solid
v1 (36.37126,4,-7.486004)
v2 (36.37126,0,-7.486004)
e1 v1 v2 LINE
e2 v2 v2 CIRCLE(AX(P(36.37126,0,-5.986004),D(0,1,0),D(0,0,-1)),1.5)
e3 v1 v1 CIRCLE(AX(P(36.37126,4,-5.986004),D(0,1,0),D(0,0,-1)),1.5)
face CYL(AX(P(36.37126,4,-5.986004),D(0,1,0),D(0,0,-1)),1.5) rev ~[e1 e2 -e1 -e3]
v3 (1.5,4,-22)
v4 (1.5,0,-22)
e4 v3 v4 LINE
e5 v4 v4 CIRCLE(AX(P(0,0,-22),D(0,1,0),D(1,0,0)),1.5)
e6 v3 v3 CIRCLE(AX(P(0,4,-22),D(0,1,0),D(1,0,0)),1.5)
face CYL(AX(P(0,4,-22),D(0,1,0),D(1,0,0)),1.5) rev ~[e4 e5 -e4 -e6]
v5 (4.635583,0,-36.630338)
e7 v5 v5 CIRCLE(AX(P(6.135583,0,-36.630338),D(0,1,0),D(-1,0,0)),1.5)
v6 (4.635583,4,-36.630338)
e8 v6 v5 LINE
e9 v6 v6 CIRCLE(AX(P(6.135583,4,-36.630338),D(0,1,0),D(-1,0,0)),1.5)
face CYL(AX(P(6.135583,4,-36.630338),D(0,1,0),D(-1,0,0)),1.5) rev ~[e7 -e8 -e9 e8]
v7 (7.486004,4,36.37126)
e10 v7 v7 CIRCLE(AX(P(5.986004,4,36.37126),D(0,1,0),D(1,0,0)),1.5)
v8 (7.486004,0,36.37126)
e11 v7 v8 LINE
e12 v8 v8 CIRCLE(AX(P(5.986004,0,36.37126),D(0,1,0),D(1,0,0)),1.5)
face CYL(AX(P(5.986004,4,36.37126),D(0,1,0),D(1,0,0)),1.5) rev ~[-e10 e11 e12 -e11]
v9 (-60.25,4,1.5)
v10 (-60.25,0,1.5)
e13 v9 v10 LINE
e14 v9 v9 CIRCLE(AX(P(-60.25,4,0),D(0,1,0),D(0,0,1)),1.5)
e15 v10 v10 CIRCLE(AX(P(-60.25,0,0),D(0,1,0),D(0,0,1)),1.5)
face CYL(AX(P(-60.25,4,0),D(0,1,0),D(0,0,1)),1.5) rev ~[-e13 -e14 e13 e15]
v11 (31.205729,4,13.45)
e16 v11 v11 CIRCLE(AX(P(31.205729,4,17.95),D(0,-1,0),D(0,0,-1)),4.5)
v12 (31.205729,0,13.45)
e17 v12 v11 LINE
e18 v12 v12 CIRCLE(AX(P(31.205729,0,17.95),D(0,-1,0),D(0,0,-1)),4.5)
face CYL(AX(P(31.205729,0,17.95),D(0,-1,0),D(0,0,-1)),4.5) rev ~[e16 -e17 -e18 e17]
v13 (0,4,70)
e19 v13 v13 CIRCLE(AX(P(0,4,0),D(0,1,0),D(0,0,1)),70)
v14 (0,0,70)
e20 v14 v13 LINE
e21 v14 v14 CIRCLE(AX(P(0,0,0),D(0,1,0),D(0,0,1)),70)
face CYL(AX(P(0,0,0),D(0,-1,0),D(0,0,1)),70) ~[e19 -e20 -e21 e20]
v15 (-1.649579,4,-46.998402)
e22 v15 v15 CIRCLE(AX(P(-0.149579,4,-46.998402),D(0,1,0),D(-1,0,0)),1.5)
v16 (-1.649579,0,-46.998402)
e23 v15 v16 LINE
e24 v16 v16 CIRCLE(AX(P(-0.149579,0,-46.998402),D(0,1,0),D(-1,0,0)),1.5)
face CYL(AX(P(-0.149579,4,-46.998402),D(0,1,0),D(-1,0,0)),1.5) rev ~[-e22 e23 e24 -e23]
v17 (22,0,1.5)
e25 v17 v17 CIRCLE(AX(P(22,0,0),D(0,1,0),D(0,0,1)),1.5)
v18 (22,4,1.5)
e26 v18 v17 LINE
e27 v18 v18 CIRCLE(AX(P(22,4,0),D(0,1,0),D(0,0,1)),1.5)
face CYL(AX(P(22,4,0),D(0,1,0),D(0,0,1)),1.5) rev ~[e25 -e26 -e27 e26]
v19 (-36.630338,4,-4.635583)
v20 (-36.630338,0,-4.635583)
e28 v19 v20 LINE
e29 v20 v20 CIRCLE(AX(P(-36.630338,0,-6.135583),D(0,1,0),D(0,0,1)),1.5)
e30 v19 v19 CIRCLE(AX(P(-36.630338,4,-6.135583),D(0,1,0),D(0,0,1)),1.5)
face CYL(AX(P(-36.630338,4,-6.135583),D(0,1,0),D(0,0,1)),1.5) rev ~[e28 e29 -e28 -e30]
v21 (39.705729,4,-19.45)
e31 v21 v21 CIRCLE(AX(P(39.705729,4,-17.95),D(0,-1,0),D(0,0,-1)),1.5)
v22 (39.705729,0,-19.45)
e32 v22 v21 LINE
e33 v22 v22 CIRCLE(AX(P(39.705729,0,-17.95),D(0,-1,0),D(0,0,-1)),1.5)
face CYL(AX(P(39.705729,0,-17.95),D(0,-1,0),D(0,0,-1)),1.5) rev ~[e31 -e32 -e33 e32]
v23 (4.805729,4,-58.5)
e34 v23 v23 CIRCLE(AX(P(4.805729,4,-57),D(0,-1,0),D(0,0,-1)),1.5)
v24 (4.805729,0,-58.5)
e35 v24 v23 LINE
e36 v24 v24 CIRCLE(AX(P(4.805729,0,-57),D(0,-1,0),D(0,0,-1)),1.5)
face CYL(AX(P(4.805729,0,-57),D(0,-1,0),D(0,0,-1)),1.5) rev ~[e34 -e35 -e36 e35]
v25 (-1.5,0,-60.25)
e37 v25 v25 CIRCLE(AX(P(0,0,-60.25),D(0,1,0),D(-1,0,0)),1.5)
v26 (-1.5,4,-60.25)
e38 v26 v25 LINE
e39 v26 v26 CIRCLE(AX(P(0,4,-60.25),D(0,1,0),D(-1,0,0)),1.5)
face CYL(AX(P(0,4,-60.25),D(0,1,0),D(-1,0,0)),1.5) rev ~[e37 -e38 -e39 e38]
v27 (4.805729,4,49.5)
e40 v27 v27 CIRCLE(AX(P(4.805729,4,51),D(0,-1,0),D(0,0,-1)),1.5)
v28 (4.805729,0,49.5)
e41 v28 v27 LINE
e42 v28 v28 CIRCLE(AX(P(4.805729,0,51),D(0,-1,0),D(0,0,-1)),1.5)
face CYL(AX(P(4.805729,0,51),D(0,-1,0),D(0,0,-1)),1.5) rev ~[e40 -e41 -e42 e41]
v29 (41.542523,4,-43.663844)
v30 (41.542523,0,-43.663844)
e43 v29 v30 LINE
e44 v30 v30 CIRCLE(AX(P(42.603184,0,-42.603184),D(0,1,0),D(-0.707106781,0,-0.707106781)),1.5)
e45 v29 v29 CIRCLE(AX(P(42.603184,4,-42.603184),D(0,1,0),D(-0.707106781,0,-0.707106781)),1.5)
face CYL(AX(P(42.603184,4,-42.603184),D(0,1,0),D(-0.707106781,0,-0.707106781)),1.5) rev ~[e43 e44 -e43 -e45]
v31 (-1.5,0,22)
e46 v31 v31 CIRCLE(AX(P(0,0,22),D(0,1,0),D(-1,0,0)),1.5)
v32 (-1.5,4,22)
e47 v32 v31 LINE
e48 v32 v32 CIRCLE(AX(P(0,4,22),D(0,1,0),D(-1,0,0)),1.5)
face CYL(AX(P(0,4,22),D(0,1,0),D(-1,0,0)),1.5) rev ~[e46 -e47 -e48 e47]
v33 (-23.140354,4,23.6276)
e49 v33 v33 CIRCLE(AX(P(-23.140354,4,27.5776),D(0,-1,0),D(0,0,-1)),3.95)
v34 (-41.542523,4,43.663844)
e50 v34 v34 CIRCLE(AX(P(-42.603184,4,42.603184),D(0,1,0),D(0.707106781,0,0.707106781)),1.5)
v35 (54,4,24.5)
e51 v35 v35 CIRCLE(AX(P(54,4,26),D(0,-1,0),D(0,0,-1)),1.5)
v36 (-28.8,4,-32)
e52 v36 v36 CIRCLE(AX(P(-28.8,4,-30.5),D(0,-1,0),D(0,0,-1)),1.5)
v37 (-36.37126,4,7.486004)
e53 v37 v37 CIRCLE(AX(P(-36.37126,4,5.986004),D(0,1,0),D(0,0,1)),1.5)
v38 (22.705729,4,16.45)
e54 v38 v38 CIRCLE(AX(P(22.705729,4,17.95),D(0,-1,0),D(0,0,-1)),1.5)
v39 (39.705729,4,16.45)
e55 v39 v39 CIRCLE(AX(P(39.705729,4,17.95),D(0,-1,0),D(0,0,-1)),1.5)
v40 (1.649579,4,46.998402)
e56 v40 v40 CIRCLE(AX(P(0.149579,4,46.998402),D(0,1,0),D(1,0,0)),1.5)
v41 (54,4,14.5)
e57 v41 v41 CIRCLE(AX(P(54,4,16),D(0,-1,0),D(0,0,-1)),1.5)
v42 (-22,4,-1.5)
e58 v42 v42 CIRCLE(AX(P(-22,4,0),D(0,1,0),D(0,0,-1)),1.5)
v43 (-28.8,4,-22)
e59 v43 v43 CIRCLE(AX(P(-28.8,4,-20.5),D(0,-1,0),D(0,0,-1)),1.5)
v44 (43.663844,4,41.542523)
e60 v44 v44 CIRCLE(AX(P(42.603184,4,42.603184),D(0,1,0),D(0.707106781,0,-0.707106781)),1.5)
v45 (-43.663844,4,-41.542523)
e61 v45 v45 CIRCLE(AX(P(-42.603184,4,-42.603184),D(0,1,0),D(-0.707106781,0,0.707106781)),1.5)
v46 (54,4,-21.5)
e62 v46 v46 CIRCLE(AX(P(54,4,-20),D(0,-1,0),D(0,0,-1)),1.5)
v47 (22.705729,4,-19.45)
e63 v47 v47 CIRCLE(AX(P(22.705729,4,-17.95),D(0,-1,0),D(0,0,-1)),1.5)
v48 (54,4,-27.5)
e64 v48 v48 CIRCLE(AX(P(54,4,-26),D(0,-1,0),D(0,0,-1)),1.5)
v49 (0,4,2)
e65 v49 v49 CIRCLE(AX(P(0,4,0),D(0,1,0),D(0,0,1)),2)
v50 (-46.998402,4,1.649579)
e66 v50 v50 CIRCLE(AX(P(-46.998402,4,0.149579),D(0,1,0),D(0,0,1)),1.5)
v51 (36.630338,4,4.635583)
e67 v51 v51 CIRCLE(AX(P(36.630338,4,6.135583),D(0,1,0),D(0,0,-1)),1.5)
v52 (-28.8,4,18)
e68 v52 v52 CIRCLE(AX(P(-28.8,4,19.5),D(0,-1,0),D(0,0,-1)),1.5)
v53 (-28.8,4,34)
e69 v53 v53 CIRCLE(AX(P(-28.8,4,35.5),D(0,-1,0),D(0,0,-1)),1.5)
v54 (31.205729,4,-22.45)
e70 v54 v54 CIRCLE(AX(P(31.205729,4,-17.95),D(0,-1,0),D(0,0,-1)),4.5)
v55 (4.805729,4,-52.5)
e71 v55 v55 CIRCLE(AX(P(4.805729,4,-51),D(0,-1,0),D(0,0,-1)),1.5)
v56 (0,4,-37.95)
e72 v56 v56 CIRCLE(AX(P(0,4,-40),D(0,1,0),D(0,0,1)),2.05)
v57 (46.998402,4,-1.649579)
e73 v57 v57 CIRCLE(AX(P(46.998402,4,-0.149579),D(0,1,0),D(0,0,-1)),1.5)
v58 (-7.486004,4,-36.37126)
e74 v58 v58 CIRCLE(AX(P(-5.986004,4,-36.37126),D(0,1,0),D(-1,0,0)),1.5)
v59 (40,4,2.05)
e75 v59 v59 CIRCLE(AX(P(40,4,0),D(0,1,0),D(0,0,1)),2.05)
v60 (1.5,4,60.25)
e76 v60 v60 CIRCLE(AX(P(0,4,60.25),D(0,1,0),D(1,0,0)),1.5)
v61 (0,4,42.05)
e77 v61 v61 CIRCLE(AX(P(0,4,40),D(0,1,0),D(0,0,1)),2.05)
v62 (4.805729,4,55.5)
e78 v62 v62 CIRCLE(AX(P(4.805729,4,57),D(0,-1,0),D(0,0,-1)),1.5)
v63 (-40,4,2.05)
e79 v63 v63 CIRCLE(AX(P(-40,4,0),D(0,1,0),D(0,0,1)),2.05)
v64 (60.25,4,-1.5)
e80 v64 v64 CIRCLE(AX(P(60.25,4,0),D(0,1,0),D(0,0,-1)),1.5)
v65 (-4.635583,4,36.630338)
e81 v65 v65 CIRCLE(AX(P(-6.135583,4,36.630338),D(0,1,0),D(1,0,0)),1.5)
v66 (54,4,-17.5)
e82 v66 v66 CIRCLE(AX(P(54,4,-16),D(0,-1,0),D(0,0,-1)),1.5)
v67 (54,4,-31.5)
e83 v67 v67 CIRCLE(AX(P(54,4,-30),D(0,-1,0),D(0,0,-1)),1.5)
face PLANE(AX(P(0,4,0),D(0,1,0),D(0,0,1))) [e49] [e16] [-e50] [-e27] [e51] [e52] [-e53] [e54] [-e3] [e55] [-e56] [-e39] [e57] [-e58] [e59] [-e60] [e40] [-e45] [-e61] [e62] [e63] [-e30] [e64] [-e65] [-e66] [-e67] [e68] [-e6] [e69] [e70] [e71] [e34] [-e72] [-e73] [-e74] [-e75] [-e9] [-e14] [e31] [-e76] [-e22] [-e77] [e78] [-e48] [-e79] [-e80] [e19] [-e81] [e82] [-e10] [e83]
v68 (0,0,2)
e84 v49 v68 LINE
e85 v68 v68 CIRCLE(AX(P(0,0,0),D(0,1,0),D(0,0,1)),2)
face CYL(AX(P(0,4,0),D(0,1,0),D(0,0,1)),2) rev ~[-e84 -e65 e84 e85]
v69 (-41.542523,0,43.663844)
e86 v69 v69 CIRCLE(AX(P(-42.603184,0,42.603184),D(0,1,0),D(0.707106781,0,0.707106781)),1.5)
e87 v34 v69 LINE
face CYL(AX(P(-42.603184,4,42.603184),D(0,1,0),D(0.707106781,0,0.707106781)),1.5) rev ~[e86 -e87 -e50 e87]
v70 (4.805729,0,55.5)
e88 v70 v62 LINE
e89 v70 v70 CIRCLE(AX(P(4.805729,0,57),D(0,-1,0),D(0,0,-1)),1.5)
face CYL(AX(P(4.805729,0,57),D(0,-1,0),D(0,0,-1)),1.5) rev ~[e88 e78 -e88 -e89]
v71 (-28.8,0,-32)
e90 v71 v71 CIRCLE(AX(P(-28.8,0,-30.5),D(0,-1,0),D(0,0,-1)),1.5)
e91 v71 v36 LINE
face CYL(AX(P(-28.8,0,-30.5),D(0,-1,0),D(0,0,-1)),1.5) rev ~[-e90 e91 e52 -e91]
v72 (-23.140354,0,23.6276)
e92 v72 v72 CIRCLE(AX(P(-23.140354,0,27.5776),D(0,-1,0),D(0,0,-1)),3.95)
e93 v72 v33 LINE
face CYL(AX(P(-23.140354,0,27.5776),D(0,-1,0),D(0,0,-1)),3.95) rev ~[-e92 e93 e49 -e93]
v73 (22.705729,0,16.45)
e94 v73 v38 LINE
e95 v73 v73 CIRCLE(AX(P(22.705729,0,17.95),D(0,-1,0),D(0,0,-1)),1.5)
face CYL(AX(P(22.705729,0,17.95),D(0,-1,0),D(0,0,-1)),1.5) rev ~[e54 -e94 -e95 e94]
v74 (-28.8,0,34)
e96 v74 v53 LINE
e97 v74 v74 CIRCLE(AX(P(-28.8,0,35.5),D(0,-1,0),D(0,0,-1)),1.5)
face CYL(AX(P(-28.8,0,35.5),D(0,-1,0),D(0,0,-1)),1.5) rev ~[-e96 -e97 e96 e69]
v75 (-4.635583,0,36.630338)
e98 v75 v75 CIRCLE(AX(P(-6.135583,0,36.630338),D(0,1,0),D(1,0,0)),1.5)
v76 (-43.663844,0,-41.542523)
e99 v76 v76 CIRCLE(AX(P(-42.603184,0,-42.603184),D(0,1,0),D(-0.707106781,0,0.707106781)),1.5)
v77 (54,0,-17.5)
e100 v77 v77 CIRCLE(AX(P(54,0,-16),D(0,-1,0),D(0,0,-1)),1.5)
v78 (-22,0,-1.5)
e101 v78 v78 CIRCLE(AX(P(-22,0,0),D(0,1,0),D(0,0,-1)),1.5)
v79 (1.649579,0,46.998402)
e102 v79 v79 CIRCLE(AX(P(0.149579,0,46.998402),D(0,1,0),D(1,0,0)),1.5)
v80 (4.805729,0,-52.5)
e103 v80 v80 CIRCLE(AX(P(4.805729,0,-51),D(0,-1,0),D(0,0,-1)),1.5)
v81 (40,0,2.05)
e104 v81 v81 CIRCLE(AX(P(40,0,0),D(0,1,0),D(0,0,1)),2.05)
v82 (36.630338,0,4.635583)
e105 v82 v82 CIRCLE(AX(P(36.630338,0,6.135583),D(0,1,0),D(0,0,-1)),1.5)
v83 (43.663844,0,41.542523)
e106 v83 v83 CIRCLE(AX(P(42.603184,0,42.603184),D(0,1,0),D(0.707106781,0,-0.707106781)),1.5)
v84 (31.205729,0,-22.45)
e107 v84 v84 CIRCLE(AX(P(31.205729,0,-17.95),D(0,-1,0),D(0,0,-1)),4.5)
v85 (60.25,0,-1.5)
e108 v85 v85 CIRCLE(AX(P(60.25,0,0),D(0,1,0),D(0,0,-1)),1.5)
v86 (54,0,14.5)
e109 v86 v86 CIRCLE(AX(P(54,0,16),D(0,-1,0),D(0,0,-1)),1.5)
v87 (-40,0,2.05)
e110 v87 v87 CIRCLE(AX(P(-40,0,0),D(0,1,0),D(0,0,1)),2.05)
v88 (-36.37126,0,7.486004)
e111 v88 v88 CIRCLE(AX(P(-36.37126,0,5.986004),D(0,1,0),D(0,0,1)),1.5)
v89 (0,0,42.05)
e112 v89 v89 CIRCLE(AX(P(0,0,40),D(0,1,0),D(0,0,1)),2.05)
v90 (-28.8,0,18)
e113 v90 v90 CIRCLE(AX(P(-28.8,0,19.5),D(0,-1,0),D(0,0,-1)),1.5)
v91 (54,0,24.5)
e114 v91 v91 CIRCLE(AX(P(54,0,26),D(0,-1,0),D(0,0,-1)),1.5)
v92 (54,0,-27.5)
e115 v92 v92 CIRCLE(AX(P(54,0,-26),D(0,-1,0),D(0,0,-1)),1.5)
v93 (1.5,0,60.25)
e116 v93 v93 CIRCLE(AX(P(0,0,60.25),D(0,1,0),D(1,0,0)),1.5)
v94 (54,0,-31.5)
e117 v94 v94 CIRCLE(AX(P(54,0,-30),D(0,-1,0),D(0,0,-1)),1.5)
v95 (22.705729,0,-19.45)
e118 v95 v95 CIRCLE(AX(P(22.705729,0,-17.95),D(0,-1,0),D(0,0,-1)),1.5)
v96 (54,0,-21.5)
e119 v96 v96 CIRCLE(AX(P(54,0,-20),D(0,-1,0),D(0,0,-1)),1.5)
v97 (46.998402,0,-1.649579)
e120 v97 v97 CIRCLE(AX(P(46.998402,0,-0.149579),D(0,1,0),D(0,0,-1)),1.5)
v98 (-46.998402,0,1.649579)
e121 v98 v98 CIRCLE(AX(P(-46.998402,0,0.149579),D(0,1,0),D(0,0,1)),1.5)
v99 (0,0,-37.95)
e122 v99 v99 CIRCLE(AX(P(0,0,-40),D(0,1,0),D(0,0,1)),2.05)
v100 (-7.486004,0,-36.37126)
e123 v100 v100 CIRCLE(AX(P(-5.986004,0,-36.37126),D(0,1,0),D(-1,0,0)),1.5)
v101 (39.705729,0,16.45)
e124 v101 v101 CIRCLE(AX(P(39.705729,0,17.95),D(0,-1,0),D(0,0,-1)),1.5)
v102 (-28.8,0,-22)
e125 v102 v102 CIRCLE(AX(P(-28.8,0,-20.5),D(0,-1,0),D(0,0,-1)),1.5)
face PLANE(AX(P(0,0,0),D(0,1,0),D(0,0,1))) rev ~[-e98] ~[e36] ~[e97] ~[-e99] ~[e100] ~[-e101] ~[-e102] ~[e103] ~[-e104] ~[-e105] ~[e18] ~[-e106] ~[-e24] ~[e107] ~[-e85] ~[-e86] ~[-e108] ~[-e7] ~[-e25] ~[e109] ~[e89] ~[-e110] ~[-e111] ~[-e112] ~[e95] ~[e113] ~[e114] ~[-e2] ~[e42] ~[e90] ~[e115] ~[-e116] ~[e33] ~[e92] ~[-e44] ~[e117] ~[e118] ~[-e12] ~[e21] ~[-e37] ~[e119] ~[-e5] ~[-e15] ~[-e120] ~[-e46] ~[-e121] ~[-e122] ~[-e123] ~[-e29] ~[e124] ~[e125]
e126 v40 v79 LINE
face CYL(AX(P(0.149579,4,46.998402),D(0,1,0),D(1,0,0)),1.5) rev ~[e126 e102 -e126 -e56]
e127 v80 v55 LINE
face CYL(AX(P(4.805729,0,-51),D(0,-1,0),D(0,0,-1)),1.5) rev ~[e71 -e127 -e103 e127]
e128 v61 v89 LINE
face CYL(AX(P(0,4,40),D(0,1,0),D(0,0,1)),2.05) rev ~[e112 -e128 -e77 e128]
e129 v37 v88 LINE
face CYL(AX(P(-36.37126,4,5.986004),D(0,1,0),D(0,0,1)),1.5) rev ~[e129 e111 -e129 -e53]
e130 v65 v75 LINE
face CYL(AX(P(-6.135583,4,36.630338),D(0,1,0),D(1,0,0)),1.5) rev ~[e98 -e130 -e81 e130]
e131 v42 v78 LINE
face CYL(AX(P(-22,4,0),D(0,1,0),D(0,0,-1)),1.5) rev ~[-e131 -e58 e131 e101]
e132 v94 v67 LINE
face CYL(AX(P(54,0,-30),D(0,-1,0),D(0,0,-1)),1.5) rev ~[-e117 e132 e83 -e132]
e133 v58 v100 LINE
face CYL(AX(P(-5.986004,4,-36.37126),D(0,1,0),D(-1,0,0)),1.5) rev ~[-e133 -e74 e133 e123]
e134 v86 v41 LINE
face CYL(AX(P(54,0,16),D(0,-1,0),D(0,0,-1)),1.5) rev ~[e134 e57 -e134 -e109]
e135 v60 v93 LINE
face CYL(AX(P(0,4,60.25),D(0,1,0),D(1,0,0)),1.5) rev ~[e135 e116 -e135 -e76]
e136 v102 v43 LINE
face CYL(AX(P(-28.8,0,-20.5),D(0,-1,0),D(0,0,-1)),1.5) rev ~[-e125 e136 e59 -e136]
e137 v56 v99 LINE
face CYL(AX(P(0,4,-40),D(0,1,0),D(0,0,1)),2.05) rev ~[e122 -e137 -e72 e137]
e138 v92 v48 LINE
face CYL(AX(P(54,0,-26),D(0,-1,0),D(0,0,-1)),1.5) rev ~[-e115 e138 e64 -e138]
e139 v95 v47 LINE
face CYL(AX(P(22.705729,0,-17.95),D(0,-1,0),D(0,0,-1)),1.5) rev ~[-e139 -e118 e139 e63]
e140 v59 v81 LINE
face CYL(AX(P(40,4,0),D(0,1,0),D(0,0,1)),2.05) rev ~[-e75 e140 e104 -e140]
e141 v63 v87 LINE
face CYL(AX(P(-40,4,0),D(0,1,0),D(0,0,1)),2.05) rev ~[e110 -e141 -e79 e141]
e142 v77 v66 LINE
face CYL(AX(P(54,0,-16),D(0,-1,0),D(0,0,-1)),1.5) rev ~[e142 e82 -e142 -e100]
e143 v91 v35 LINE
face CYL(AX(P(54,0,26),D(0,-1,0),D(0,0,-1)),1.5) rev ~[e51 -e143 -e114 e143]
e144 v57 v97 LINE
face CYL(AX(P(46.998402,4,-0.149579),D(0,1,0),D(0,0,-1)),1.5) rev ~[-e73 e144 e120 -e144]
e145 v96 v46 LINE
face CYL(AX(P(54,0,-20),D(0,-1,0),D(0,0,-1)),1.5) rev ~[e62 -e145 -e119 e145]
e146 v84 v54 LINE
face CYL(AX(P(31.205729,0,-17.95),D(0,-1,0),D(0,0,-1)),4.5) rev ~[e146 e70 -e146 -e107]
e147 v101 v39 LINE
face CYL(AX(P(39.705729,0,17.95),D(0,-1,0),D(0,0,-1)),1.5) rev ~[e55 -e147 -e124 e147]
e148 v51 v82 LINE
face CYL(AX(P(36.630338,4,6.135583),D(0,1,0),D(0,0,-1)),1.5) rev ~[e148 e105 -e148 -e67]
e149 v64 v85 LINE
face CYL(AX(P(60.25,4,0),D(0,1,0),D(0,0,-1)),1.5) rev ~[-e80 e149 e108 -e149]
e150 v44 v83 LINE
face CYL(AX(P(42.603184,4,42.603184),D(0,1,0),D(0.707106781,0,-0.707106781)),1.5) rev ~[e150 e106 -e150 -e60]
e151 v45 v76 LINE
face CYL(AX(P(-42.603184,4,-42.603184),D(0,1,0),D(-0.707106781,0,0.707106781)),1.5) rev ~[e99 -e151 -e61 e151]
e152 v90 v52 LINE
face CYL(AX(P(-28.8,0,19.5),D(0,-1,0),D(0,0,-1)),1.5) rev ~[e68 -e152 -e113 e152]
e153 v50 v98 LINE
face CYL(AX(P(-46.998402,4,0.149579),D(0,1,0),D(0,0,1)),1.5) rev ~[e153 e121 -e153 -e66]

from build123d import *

# Parameters (mm, degrees)
SKETCH2_R           = 70
BOSS_EXTRUDE1_DEPTH = 4
SKETCH8_R           = 2
CUT_EXTRUDE1_DEPTH  = 100.075728612
SKETCH34_R          = 1.5
CUT_EXTRUDE8_DEPTH  = 100.075728612
CIRPATTERN7_COUNT   = 8
SKETCH50_R          = 1.5
CUT_EXTRUDE15_DEPTH = 100.075728612
SKETCH51_R          = 1.5
CUT_EXTRUDE16_DEPTH = 100.075728612
SKETCH56_R          = 2.05
CUT_EXTRUDE19_DEPTH = 100.075728612
SKETCH57_R          = 1.5
CUT_EXTRUDE20_DEPTH = 100.075728612
CIRPATTERN13_COUNT  = 4
SKETCH60_R          = 1.5
CUT_EXTRUDE21_DEPTH = 100.075728612
CIRPATTERN14_COUNT  = 4
SKETCH49_R          = 4.5
SKETCH49_R_2        = 3.95
CUT_EXTRUDE14_DEPTH = 100.075728612
SKETCH63_R          = 1.5
CUT_EXTRUDE24_DEPTH = 100.075728612
SKETCH64_R          = 1.5
CUT_EXTRUDE25_DEPTH = 100.075728612
SKETCH65_R          = 1.5
CUT_EXTRUDE26_DEPTH = 100.075728612


with BuildPart() as part:
    # Sketch2 → Boss-Extrude1 (new body)
    with BuildSketch(Plane(origin=(0, 0, 0), x_dir=(1, 0, 0), z_dir=(0, 1, 0))):
        Circle(SKETCH2_R)
    extrude(amount=BOSS_EXTRUDE1_DEPTH)

    # Sketch8 → Cut-Extrude1 (cut, through all)
    with BuildSketch(Plane(origin=(0, 4, 0), x_dir=(1, 0, 0), z_dir=(0, 1, 0))):
        Circle(SKETCH8_R)
    extrude(amount=-CUT_EXTRUDE1_DEPTH, mode=Mode.SUBTRACT)

    # Sketch34 → Cut-Extrude8 (cut, through all)
    with BuildSketch(Plane(origin=(0, 4, 0), x_dir=(1, 0, 0), z_dir=(0, 1, 0))):
        with Locations((-60.25, 0)):
            Circle(SKETCH34_R)
    cut_extrude8 = extrude(amount=-CUT_EXTRUDE8_DEPTH, mode=Mode.SUBTRACT)

    # CirPattern7: Cut-Extrude8 ×8 about axis
    cirpattern7_axis = Axis((0, 4, 0), (0, -1, 0))
    for i in range(1, CIRPATTERN7_COUNT):
        add(cut_extrude8.rotate(cirpattern7_axis, i * 360 / CIRPATTERN7_COUNT), mode=Mode.SUBTRACT)

    # Sketch50 → Cut-Extrude15 (cut, through all)
    with BuildSketch(Plane.XZ):
        with Locations((-28.8, -30.5)):
            Circle(SKETCH50_R)
        with Locations((-28.8, -20.5)):
            Circle(SKETCH50_R)
        with Locations((54, -26)):
            Circle(SKETCH50_R)
        with Locations((54, -16)):
            Circle(SKETCH50_R)
        with Locations((54, 16)):
            Circle(SKETCH50_R)
        with Locations((54, 26)):
            Circle(SKETCH50_R)
    extrude(amount=-CUT_EXTRUDE15_DEPTH, mode=Mode.SUBTRACT)

    # Sketch51 → Cut-Extrude16 (cut, through all)
    with BuildSketch(Plane.XZ):
        with Locations((-28.8, 19.5)):
            Circle(SKETCH51_R)
        with Locations((-28.8, 35.5)):
            Circle(SKETCH51_R)
    extrude(amount=-CUT_EXTRUDE16_DEPTH, mode=Mode.SUBTRACT)

    # Sketch56 → Cut-Extrude19 (cut, through all)
    with BuildSketch(Plane(origin=(0, 4, 0), x_dir=(1, 0, 0), z_dir=(0, 1, 0))):
        with Locations((0, 40)):
            Circle(SKETCH56_R)
        with Locations((-40, 0)):
            Circle(SKETCH56_R)
        with Locations((40, 0)):
            Circle(SKETCH56_R)
        with Locations((0, -40)):
            Circle(SKETCH56_R)
    extrude(amount=-CUT_EXTRUDE19_DEPTH, mode=Mode.SUBTRACT)

    # Sketch57 → Cut-Extrude20 (cut, through all)
    with BuildSketch(Plane(origin=(0, 4, 0), x_dir=(1, 0, 0), z_dir=(0, 1, 0))):
        with Locations((-36.371259829, -5.986004074)):
            Circle(SKETCH57_R)
        with Locations((-46.998401681, -0.149579135)):
            Circle(SKETCH57_R)
        with Locations((-36.63033849, 6.135583209)):
            Circle(SKETCH57_R)
    cut_extrude20 = extrude(amount=-CUT_EXTRUDE20_DEPTH, mode=Mode.SUBTRACT)

    # CirPattern13: Cut-Extrude20 ×4 about axis
    cirpattern13_axis = Axis((0, 4, 0), (0, 1, 0))
    for i in range(1, CIRPATTERN13_COUNT):
        add(cut_extrude20.rotate(cirpattern13_axis, i * 360 / CIRPATTERN13_COUNT), mode=Mode.SUBTRACT)

    # Sketch60 → Cut-Extrude21 (cut, through all)
    with BuildSketch(Plane(origin=(0, 4, 0), x_dir=(1, 0, 0), z_dir=(0, 1, 0))):
        with Locations((22, 0)):
            Circle(SKETCH60_R)
    cut_extrude21 = extrude(amount=-CUT_EXTRUDE21_DEPTH, mode=Mode.SUBTRACT)

    # CirPattern14: Cut-Extrude21 ×4 about axis
    cirpattern14_axis = Axis((0, 4, 0), (0, -1, 0))
    for i in range(1, CIRPATTERN14_COUNT):
        add(cut_extrude21.rotate(cirpattern14_axis, i * 360 / CIRPATTERN14_COUNT), mode=Mode.SUBTRACT)

    # Sketch49 → Cut-Extrude14 (cut, through all)
    with BuildSketch(Plane.XZ):
        with Locations((31.205728641, 17.95)):
            Circle(SKETCH49_R)
        with Locations((31.205728641, -17.95)):
            Circle(SKETCH49_R)
        with Locations((-23.140353949, 27.577599952)):
            Circle(SKETCH49_R_2)
    extrude(amount=-CUT_EXTRUDE14_DEPTH, mode=Mode.SUBTRACT)

    # Sketch63 → Cut-Extrude24 (cut, through all)
    with BuildSketch(Plane.XZ):
        with Locations((22.705728641, -17.95)):
            Circle(SKETCH63_R)
        with Locations((39.705728641, -17.95)):
            Circle(SKETCH63_R)
        with Locations((22.705728641, 17.95)):
            Circle(SKETCH63_R)
        with Locations((39.705728641, 17.95)):
            Circle(SKETCH63_R)
    extrude(amount=-CUT_EXTRUDE24_DEPTH, mode=Mode.SUBTRACT)

    # Sketch64 → Cut-Extrude25 (cut, through all)
    with BuildSketch(Plane.XZ):
        with Locations((4.805728641, -57)):
            Circle(SKETCH64_R)
        with Locations((4.805728641, -51)):
            Circle(SKETCH64_R)
        with Locations((4.805728641, 51)):
            Circle(SKETCH64_R)
        with Locations((4.805728641, 57)):
            Circle(SKETCH64_R)
    extrude(amount=-CUT_EXTRUDE25_DEPTH, mode=Mode.SUBTRACT)

    # Sketch65 → Cut-Extrude26 (cut, through all)
    with BuildSketch(Plane.XZ):
        with Locations((54, -30)):
            Circle(SKETCH65_R)
        with Locations((54, -20)):
            Circle(SKETCH65_R)
    extrude(amount=-CUT_EXTRUDE26_DEPTH, mode=Mode.SUBTRACT)


solid = part.part
